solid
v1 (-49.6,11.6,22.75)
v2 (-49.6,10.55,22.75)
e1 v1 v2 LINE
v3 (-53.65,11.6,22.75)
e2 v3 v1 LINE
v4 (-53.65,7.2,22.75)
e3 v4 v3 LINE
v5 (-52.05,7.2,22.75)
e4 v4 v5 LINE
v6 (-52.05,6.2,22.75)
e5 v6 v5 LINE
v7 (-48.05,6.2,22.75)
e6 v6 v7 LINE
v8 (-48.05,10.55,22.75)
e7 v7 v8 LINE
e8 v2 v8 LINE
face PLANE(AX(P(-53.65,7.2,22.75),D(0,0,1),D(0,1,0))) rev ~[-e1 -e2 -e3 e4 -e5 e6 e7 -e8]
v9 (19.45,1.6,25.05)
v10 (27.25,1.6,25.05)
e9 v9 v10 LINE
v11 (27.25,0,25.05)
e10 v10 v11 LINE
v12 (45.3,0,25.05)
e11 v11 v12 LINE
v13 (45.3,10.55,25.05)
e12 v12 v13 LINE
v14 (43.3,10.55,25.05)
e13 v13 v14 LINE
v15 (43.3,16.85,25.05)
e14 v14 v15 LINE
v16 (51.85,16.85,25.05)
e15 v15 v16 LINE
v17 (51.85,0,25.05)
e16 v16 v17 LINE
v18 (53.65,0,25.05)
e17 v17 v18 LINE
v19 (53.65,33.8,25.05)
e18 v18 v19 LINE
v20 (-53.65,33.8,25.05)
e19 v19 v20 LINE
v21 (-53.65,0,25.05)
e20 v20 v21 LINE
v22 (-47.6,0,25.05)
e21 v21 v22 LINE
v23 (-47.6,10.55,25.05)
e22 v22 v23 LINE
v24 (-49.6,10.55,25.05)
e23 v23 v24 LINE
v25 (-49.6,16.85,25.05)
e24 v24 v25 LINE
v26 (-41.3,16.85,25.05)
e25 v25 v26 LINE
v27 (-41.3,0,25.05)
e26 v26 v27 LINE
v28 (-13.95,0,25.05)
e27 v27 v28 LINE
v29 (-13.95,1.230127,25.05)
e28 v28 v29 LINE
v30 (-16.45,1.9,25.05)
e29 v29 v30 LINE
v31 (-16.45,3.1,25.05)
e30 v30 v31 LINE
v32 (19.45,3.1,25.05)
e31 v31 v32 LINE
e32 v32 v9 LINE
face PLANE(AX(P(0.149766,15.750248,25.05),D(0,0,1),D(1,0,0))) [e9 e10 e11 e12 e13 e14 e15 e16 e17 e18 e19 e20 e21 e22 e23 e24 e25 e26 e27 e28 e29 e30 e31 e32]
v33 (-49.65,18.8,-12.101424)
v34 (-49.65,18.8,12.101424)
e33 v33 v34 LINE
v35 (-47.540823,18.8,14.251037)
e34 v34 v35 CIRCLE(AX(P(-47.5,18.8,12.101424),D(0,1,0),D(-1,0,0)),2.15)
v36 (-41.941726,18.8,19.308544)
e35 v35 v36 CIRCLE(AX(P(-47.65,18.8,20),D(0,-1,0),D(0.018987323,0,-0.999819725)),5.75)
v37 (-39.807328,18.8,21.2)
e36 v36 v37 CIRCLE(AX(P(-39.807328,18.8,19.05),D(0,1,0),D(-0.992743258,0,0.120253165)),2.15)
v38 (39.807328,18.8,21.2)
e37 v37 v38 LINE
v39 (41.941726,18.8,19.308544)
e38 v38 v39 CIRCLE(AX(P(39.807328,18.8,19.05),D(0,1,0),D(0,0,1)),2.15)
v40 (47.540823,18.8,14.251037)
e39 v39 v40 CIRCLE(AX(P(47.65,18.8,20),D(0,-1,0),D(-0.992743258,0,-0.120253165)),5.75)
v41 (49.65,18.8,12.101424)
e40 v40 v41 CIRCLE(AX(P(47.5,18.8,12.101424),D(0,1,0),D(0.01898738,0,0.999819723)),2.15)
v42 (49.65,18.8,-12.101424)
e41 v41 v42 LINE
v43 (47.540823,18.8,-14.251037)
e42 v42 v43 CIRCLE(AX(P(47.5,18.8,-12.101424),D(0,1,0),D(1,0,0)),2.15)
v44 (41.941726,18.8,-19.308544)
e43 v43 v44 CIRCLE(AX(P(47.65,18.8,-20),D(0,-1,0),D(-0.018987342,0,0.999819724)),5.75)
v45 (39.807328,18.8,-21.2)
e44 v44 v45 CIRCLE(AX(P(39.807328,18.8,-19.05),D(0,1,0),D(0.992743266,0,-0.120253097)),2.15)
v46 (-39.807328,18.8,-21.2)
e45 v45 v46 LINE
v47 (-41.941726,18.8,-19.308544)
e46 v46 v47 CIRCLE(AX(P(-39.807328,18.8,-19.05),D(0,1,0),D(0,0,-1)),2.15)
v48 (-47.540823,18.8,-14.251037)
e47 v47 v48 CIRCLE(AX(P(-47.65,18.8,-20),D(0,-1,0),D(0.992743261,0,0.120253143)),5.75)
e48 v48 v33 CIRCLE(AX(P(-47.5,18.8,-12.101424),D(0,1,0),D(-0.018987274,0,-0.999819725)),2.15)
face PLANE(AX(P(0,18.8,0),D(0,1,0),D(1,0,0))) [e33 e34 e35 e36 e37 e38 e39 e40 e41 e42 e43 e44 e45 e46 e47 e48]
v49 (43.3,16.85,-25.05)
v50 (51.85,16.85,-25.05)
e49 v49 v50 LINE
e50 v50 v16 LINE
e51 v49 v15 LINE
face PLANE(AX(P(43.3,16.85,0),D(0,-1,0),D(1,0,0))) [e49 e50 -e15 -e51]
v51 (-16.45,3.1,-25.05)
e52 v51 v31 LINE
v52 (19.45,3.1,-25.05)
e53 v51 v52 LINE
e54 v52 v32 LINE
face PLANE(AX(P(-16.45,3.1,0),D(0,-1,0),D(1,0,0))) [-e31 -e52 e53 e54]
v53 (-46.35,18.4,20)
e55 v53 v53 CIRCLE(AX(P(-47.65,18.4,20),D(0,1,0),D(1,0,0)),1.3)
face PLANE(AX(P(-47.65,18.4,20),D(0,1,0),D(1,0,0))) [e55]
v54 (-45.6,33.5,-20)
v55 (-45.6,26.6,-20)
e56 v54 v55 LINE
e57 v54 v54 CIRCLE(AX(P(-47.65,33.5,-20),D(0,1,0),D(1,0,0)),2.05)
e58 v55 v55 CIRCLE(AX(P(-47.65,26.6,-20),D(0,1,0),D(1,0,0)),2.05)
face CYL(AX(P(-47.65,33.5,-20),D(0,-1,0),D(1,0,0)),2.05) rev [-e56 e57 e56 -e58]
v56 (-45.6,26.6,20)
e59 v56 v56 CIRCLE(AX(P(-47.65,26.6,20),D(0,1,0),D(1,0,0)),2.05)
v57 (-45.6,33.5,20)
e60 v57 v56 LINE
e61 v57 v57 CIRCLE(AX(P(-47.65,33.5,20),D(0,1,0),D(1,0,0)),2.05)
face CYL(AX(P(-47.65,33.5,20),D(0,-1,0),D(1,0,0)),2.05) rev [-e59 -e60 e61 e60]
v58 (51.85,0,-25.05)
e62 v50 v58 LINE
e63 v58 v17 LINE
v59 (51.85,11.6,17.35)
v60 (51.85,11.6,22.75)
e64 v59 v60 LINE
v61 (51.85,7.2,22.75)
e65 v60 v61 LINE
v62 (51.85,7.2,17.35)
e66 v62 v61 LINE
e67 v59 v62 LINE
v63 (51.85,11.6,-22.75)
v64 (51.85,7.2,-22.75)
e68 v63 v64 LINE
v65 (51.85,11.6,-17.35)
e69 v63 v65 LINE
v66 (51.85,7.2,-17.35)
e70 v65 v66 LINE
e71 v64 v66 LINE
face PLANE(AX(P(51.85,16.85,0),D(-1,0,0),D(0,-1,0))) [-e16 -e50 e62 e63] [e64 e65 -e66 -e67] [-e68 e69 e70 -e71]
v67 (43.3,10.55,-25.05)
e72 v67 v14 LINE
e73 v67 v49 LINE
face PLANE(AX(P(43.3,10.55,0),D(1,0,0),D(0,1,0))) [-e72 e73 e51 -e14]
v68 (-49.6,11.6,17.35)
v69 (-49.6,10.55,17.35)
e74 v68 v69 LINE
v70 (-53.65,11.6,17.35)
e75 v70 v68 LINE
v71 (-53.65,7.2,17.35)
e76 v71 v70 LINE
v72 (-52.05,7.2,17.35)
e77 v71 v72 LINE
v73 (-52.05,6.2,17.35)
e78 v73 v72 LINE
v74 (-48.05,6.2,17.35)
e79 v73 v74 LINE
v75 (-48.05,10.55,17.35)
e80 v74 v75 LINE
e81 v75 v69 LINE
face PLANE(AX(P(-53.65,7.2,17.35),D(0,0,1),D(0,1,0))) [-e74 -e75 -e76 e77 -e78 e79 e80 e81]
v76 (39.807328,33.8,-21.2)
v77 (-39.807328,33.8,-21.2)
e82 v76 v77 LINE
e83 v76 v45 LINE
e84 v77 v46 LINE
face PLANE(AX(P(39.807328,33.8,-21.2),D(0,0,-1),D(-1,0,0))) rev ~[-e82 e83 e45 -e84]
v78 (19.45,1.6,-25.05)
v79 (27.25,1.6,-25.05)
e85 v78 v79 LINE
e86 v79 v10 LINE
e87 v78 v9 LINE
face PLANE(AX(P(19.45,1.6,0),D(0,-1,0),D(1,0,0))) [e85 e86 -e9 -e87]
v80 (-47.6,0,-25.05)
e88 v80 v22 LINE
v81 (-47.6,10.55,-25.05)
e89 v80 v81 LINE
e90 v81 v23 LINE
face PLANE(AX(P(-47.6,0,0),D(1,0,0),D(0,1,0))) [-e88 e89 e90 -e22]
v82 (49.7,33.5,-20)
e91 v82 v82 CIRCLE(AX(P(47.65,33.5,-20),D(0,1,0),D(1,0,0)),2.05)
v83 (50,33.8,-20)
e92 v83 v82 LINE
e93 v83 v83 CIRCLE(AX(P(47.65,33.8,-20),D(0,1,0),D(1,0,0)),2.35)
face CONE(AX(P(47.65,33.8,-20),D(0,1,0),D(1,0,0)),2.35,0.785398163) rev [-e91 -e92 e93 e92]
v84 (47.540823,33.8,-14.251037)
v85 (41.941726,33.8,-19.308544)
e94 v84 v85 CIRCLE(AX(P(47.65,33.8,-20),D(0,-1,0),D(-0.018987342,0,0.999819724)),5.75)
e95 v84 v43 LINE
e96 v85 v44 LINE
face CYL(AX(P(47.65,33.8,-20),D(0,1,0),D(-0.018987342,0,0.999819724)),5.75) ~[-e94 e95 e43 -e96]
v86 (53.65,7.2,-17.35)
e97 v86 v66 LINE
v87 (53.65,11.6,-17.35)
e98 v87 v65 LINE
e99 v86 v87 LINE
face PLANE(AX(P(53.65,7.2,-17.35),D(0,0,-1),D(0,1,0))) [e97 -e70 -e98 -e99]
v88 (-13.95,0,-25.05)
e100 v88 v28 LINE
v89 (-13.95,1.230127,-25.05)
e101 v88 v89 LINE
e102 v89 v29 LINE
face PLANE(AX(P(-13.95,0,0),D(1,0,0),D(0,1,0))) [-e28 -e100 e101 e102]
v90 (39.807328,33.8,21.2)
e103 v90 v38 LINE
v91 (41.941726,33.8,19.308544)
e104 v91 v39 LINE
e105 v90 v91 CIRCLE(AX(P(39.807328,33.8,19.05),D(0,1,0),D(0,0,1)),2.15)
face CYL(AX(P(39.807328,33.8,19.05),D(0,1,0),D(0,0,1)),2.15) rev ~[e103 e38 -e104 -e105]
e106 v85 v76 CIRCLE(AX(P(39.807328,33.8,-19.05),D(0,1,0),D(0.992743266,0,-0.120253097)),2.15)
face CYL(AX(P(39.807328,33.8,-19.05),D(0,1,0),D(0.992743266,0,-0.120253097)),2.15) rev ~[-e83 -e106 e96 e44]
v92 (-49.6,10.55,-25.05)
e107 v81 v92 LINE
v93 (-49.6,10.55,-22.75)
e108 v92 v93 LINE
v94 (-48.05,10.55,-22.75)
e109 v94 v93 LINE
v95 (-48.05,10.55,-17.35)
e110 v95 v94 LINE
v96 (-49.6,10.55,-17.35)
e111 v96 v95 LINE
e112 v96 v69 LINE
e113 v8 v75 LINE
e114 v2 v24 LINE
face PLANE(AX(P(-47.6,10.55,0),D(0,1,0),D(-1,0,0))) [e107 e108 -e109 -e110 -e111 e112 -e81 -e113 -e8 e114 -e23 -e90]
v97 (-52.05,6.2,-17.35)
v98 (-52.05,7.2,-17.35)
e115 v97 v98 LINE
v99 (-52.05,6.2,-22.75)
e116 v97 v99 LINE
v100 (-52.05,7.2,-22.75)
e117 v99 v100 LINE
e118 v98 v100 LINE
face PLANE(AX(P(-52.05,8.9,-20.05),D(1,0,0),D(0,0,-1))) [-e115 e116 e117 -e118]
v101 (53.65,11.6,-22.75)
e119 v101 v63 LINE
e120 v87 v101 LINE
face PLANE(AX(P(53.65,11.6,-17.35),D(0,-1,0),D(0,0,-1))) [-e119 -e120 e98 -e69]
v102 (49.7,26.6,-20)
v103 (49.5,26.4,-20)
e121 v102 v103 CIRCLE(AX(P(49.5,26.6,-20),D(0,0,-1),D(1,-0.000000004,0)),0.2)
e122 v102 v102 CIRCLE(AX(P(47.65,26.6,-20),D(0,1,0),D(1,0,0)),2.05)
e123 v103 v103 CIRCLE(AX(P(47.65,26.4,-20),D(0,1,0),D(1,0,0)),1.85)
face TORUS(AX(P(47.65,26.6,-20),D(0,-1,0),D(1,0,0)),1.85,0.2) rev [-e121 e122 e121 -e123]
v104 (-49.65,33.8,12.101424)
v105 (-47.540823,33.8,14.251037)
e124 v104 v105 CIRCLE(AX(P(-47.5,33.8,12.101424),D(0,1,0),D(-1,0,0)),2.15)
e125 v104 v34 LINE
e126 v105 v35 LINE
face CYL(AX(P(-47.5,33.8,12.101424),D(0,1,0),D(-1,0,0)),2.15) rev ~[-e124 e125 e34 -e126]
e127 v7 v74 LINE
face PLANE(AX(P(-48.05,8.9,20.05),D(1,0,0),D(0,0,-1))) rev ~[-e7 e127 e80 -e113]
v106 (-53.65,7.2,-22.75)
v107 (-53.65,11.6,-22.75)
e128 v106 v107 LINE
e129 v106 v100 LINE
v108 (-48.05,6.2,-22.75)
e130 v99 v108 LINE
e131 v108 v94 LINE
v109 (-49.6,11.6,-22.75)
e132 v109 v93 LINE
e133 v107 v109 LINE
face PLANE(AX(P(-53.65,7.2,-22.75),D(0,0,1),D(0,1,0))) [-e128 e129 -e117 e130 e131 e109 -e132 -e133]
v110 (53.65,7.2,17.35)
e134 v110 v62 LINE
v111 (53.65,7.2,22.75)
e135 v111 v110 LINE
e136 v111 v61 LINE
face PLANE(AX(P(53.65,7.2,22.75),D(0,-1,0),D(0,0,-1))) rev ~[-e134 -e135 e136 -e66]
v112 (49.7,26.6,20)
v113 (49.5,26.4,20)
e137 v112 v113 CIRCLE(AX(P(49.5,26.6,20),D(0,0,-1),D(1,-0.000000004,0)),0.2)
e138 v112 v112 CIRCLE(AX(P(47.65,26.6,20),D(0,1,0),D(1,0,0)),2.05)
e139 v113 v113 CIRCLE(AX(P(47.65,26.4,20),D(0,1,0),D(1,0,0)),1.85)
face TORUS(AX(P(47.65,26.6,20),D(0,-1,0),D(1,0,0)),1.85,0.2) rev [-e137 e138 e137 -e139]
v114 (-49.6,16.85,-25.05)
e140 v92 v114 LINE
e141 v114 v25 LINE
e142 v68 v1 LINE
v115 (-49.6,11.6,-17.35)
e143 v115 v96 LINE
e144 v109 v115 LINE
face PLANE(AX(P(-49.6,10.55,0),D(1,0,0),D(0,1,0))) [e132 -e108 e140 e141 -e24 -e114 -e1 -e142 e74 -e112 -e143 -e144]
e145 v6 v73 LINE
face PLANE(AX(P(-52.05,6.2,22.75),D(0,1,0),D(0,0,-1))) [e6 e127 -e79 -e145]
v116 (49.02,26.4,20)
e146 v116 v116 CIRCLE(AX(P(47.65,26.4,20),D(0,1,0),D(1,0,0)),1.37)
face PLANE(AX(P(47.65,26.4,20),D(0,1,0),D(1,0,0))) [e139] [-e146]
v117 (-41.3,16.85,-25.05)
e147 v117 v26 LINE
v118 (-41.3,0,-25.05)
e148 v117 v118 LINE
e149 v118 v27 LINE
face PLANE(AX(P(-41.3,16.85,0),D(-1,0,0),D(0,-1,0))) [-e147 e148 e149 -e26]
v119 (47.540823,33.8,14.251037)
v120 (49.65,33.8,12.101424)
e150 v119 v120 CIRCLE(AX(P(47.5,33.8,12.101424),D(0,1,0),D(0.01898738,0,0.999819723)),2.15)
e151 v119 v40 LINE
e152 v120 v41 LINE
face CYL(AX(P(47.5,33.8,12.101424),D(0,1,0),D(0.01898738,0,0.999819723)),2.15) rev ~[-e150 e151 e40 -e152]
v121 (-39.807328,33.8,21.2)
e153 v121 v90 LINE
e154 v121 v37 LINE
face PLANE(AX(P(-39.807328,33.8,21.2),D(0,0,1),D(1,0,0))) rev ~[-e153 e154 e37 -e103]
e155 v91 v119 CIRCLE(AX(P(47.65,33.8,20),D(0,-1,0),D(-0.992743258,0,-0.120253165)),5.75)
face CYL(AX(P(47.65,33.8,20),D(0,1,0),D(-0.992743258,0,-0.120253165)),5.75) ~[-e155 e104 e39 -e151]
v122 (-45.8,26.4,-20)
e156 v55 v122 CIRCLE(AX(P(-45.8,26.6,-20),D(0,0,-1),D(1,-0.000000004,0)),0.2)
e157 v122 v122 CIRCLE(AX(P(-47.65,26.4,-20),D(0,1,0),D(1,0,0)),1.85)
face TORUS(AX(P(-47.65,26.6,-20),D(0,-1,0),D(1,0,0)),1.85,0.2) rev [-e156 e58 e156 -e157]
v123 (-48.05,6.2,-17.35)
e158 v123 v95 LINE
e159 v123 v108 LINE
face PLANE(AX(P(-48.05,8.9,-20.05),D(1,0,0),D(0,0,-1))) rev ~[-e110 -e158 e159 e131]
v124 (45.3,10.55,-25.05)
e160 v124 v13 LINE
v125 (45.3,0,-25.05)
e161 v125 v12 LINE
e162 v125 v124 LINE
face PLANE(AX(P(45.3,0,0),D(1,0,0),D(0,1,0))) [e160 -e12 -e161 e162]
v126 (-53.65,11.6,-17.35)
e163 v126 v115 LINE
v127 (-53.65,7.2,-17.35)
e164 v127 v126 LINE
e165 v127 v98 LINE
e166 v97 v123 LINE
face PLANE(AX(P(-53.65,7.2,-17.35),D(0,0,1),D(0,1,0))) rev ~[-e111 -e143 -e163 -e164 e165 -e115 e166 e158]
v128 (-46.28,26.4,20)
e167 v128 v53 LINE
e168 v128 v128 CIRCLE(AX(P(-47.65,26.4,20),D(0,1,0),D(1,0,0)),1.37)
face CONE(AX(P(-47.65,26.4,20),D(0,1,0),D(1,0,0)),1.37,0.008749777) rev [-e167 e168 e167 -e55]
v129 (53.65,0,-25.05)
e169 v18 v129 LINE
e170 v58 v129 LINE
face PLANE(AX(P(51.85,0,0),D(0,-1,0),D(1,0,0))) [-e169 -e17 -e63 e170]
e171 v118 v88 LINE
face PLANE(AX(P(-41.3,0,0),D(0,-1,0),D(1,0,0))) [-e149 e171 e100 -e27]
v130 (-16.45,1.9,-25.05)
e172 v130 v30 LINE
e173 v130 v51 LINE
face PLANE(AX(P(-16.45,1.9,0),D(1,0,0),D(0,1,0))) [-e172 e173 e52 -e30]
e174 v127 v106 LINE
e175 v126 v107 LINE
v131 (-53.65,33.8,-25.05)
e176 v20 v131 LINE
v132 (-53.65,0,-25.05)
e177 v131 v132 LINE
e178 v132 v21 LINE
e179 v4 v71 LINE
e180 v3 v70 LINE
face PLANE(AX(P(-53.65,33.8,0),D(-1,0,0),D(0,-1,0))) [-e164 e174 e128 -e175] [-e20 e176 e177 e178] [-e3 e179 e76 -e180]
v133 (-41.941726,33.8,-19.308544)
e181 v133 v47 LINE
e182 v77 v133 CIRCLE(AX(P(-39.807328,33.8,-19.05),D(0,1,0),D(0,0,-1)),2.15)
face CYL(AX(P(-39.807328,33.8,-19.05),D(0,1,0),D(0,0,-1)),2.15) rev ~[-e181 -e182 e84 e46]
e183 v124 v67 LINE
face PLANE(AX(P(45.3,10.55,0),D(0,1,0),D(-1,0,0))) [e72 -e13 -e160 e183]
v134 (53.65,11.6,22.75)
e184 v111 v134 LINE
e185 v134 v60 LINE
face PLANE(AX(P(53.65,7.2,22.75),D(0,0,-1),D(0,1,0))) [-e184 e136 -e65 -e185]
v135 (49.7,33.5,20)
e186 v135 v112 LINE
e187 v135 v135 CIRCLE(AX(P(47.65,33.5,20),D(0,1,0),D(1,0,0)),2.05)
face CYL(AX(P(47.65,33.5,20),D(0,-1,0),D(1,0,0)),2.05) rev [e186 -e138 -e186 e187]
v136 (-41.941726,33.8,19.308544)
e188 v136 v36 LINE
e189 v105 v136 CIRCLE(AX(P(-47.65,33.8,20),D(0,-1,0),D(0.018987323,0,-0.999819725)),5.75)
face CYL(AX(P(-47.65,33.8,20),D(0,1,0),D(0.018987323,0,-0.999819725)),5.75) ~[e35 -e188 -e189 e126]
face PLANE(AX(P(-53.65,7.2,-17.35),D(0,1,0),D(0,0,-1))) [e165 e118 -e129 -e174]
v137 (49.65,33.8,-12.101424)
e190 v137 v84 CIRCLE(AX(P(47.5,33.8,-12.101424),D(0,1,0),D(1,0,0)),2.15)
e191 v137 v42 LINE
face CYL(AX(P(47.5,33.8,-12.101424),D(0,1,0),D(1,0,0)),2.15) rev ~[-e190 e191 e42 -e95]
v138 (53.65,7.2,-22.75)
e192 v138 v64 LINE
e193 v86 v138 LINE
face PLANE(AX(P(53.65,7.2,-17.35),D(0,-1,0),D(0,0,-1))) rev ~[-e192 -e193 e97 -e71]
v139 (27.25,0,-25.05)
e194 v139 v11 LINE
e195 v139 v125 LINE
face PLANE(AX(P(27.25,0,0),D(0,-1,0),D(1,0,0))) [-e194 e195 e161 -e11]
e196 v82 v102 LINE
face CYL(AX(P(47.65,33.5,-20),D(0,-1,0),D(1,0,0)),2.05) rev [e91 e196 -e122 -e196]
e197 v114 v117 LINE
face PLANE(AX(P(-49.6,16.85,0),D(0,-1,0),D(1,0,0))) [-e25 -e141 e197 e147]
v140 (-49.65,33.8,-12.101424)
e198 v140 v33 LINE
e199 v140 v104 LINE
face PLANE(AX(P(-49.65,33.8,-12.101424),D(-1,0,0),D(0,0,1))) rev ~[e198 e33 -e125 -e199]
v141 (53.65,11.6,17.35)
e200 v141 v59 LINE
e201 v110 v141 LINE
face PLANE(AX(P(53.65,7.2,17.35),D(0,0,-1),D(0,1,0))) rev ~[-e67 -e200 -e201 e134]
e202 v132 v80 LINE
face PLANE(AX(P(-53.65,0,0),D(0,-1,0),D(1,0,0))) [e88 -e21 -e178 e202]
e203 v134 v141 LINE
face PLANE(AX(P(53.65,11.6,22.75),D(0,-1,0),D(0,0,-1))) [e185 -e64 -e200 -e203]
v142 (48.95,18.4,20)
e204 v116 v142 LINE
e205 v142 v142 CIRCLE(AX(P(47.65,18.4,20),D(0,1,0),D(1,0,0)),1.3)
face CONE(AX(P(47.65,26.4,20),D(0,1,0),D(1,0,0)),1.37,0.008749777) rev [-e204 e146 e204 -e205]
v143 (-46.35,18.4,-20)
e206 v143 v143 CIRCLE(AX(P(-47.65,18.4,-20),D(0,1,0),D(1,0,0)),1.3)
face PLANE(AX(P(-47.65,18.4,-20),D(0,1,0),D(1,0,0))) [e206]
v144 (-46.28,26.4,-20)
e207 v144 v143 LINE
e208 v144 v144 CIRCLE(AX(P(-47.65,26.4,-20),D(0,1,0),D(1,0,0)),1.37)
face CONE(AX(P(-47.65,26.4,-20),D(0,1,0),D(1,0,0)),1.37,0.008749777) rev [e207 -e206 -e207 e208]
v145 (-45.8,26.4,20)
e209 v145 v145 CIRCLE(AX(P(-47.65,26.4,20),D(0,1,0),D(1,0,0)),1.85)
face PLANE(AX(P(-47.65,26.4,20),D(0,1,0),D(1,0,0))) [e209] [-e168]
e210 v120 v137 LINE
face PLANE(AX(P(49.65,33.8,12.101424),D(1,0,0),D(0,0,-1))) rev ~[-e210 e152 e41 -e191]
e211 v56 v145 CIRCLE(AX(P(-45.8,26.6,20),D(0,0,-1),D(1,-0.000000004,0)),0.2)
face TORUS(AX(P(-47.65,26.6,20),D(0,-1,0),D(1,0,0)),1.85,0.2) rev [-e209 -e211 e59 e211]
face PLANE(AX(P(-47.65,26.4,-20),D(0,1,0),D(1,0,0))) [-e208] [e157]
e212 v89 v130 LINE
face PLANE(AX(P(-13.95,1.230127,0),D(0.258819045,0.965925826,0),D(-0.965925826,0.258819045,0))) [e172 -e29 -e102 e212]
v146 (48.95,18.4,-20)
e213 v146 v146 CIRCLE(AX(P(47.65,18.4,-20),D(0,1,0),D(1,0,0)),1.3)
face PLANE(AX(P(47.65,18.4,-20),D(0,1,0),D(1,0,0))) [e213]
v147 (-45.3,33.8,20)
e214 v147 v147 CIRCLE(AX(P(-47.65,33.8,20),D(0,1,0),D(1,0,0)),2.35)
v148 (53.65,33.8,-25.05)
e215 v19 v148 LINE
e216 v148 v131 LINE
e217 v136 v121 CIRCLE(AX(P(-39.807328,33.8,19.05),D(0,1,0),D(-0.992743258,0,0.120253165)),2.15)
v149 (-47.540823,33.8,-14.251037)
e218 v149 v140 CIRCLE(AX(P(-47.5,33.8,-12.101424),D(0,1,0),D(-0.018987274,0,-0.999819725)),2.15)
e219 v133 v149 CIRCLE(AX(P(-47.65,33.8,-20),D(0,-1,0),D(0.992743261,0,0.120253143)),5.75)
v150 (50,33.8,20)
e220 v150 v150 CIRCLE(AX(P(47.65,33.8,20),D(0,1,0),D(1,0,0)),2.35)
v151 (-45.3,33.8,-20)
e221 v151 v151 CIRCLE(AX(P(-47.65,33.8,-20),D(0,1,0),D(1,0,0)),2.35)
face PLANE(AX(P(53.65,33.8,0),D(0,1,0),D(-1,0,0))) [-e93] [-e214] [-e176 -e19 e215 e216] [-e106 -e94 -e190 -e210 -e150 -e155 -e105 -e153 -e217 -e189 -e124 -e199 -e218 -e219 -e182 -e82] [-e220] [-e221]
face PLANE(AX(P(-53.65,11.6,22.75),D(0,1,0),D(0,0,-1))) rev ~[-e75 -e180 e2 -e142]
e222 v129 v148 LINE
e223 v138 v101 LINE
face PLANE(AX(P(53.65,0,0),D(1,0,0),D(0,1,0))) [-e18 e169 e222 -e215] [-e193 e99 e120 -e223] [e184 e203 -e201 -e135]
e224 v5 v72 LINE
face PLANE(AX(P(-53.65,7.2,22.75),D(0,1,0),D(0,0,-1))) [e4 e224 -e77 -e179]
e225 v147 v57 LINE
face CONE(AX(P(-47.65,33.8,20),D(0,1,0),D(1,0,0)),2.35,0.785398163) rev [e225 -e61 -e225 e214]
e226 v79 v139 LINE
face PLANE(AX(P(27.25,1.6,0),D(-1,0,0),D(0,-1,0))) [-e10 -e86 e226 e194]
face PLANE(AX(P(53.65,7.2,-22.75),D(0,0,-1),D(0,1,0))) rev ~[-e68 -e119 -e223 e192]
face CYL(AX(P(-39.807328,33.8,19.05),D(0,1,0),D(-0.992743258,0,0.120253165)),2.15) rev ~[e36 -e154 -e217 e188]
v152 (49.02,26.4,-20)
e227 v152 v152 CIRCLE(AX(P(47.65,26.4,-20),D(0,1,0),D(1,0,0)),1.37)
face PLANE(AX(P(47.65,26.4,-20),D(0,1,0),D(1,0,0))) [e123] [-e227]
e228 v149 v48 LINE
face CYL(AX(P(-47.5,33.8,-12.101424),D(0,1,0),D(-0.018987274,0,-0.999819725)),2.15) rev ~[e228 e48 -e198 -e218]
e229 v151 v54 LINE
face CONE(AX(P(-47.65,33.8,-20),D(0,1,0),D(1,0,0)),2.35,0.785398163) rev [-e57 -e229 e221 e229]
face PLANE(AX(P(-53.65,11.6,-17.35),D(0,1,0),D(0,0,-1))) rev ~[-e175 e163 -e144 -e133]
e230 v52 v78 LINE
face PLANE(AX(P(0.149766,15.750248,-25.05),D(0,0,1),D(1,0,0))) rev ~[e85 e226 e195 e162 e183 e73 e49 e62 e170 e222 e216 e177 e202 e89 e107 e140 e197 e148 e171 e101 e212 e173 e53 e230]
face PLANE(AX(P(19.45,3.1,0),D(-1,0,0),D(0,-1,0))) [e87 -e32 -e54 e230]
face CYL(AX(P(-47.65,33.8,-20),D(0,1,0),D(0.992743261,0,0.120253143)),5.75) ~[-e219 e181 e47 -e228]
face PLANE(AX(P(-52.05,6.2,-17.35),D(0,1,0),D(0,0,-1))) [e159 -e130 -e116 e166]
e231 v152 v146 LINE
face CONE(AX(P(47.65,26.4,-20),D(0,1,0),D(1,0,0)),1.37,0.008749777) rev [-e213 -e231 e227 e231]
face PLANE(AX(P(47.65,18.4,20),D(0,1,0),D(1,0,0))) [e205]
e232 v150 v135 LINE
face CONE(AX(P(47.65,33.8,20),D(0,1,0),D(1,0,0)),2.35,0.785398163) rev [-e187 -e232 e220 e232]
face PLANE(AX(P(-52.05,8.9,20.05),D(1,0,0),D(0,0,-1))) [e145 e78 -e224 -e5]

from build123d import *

# Parameters (mm, degrees)
BOSS_EXTRUDE1_DEPTH      = 25.05
BOSS_EXTRUDE1_DEPTH_BACK = 25.05
CUT_EXTRUDE1_DEPTH       = 15
SKETCH7_W                = 5.4
SKETCH7_H                = 4.4
CUT_EXTRUDE2_DEPTH       = 3
SKETCH8_W                = 5.4
SKETCH8_H                = 4.4
CUT_EXTRUDE3_DEPTH       = 3
SKETCH9_W                = 5.4
SKETCH9_H                = 4.4
CUT_EXTRUDE4_DEPTH       = 5
SKETCH10_W               = 5.4
SKETCH10_H               = 4.4
CUT_EXTRUDE5_DEPTH       = 5
SKETCH11_W               = 5.4
SKETCH11_H               = 5.4
CUT_EXTRUDE6_DEPTH       = 4
SKETCH12_W               = 5.4
SKETCH12_H               = 5.4
CUT_EXTRUDE7_DEPTH       = 4


with BuildPart() as part:
    # Sketch1 → Boss-Extrude1 (new, two sides: drawn at the far end of the back side and taken through both)
    with BuildSketch(Plane.XY.offset(-BOSS_EXTRUDE1_DEPTH_BACK)):
        Polygon((-53.65, 33.8), (-53.65, 0), (-47.6, 0), (-47.6, 10.55), (-49.6, 10.55), (-49.6, 16.85), (-41.3, 16.85), (-41.3, 0), (-13.95, 0), (-13.95, 1.230127019), (-16.45, 1.9), (-16.45, 3.1), (19.45, 3.1), (19.45, 1.6), (27.25, 1.6), (27.25, 0), (45.3, 0), (45.3, 10.55), (43.3, 10.55), (43.3, 16.85), (51.85, 16.85), (51.85, 0), (53.65, 0), (53.65, 33.8), align=None)
    extrude(amount=BOSS_EXTRUDE1_DEPTH + BOSS_EXTRUDE1_DEPTH_BACK)

    # Sketch2 → Cut-Revolve1 (revolve, cut)
    with BuildSketch(Plane.XY.offset(20)):
        with BuildLine():
            Line((47.65, 33.8), (50, 33.8))
            Line((50, 33.8), (49.7, 33.5))
            Line((49.7, 33.5), (49.7, 26.6))
            ThreePointArc((49.7, 26.6), (49.641421356, 26.458578644), (49.5, 26.4))
            Line((49.5, 26.4), (49.02, 26.4))
            Line((49.02, 26.4), (48.95, 18.4))
            Line((48.95, 18.4), (47.65, 18.4))
            Line((47.65, 18.4), (47.65, 33.8))
        make_face()
    revolve(axis=Axis((47.65, 18.4, 20), (0, 1, 0)), mode=Mode.SUBTRACT)

    # Sketch3 → Cut-Revolve2 (revolve, cut)
    with BuildSketch(Plane.XY.offset(-20)):
        with BuildLine():
            Line((47.65, 33.8), (50, 33.8))
            Line((50, 33.8), (49.7, 33.5))
            Line((49.7, 33.5), (49.7, 26.6))
            ThreePointArc((49.7, 26.6), (49.641421356, 26.458578644), (49.5, 26.4))
            Line((49.5, 26.4), (49.02, 26.4))
            Line((49.02, 26.4), (48.95, 18.4))
            Line((48.95, 18.4), (47.65, 18.4))
            Line((47.65, 18.4), (47.65, 33.8))
        make_face()
    revolve(axis=Axis((47.65, 18.4, -20), (0, 1, 0)), mode=Mode.SUBTRACT)

    # Sketch4 → Cut-Revolve3 (revolve, cut)
    with BuildSketch(Plane.XY.offset(-20)):
        with BuildLine():
            Line((-47.65, 33.8), (-45.3, 33.8))
            Line((-45.3, 33.8), (-45.6, 33.5))
            Line((-45.6, 33.5), (-45.6, 26.6))
            ThreePointArc((-45.6, 26.6), (-45.658578644, 26.458578644), (-45.8, 26.4))
            Line((-45.8, 26.4), (-46.28, 26.4))
            Line((-46.28, 26.4), (-46.35, 18.4))
            Line((-46.35, 18.4), (-47.65, 18.4))
            Line((-47.65, 18.4), (-47.65, 33.8))
        make_face()
    revolve(axis=Axis((-47.65, 18.4, -20), (0, 1, 0)), mode=Mode.SUBTRACT)

    # Sketch5 → Cut-Revolve4 (revolve, cut)
    with BuildSketch(Plane.XY.offset(20)):
        with BuildLine():
            Line((-47.65, 33.8), (-45.3, 33.8))
            Line((-45.3, 33.8), (-45.6, 33.5))
            Line((-45.6, 33.5), (-45.6, 26.6))
            ThreePointArc((-45.6, 26.6), (-45.658578644, 26.458578644), (-45.8, 26.4))
            Line((-45.8, 26.4), (-46.28, 26.4))
            Line((-46.28, 26.4), (-46.35, 18.4))
            Line((-46.35, 18.4), (-47.65, 18.4))
            Line((-47.65, 18.4), (-47.65, 33.8))
        make_face()
    revolve(axis=Axis((-47.65, 18.4, 20), (0, 1, 0)), mode=Mode.SUBTRACT)

    # Sketch6 → Cut-Extrude1 (cut)
    with BuildSketch(Plane(origin=(0, 33.8, 0), x_dir=(1, 0, 0), z_dir=(0, 1, 0))):
        with BuildLine():
            Line((-39.807328261, -21.2), (39.807328261, -21.2))
            ThreePointArc((39.807328261, -21.2), (41.233271764, -20.659094505), (41.941726266, -19.308544304))
            ThreePointArc((41.941726266, -19.308544304), (43.795745244, -15.733008053), (47.540822869, -14.251036584))
            ThreePointArc((47.540822869, -14.251036584), (49.034644775, -13.607201525), (49.65, -12.101424179))
            Line((49.65, -12.101424179), (49.65, 12.101424179))
            ThreePointArc((49.65, 12.101424179), (49.034644745, 13.607201555), (47.540822785, 14.251036586))
            ThreePointArc((47.540822785, 14.251036586), (43.795745267, 15.733008032), (41.941726284, 19.308544159))
            ThreePointArc((41.941726284, 19.308544159), (41.233271819, 20.659094457), (39.807328261, 21.2))
            Line((39.807328261, 21.2), (-39.807328261, 21.2))
            ThreePointArc((-39.807328261, 21.2), (-41.233271718, 20.659094546), (-41.941726251, 19.308544426))
            ThreePointArc((-41.941726251, 19.308544426), (-43.795745113, 15.733008171), (-47.540822639, 14.251036589))
            ThreePointArc((-47.540822639, 14.251036589), (-49.034644694, 13.607201607), (-49.65, 12.101424179))
            Line((-49.65, 12.101424179), (-49.65, -12.101424179))
            ThreePointArc((-49.65, -12.101424179), (-49.034644783, -13.607201517), (-47.540822892, -14.251036584))
            ThreePointArc((-47.540822892, -14.251036584), (-43.795745253, -15.733008045), (-41.941726266, -19.308544304))
            ThreePointArc((-41.941726266, -19.308544304), (-41.233271764, -20.659094505), (-39.807328261, -21.2))
        make_face()
    extrude(amount=-CUT_EXTRUDE1_DEPTH, mode=Mode.SUBTRACT)

    # Sketch7 → Cut-Extrude2 (cut)
    with BuildSketch(Plane(origin=(53.65, 0, 0), x_dir=(0, 0, -1), z_dir=(1, 0, 0))):
        with Locations((20.05, 9.4)):
            Rectangle(SKETCH7_W, SKETCH7_H)
    extrude(amount=-CUT_EXTRUDE2_DEPTH, mode=Mode.SUBTRACT)

    # Sketch8 → Cut-Extrude3 (cut)
    with BuildSketch(Plane(origin=(53.65, 0, 0), x_dir=(0, 0, -1), z_dir=(1, 0, 0))):
        with Locations((-20.05, 9.4)):
            Rectangle(SKETCH8_W, SKETCH8_H)
    extrude(amount=-CUT_EXTRUDE3_DEPTH, mode=Mode.SUBTRACT)

    # Sketch9 → Cut-Extrude4 (cut)
    with BuildSketch(Plane(origin=(-53.65, 0, 0), x_dir=(0, 0, -1), z_dir=(1, 0, 0))):
        with Locations((20.05, 9.4)):
            Rectangle(SKETCH9_W, SKETCH9_H)
    extrude(amount=CUT_EXTRUDE4_DEPTH, mode=Mode.SUBTRACT)

    # Sketch10 → Cut-Extrude5 (cut)
    with BuildSketch(Plane(origin=(-53.65, 0, 0), x_dir=(0, 0, -1), z_dir=(1, 0, 0))):
        with Locations((-20.05, 9.4)):
            Rectangle(SKETCH10_W, SKETCH10_H)
    extrude(amount=CUT_EXTRUDE5_DEPTH, mode=Mode.SUBTRACT)

    # Sketch11 → Cut-Extrude6 (cut)
    with BuildSketch(Plane(origin=(-52.05, 0, 0), x_dir=(0, 0, -1), z_dir=(1, 0, 0))):
        with Locations((-20.05, 8.9)):
            Rectangle(SKETCH11_W, SKETCH11_H)
    extrude(amount=CUT_EXTRUDE6_DEPTH, mode=Mode.SUBTRACT)

    # Sketch12 → Cut-Extrude7 (cut)
    with BuildSketch(Plane(origin=(-52.05, 0, 0), x_dir=(0, 0, -1), z_dir=(1, 0, 0))):
        with Locations((20.05, 8.9)):
            Rectangle(SKETCH12_W, SKETCH12_H)
    extrude(amount=CUT_EXTRUDE7_DEPTH, mode=Mode.SUBTRACT)


solid = part.part
